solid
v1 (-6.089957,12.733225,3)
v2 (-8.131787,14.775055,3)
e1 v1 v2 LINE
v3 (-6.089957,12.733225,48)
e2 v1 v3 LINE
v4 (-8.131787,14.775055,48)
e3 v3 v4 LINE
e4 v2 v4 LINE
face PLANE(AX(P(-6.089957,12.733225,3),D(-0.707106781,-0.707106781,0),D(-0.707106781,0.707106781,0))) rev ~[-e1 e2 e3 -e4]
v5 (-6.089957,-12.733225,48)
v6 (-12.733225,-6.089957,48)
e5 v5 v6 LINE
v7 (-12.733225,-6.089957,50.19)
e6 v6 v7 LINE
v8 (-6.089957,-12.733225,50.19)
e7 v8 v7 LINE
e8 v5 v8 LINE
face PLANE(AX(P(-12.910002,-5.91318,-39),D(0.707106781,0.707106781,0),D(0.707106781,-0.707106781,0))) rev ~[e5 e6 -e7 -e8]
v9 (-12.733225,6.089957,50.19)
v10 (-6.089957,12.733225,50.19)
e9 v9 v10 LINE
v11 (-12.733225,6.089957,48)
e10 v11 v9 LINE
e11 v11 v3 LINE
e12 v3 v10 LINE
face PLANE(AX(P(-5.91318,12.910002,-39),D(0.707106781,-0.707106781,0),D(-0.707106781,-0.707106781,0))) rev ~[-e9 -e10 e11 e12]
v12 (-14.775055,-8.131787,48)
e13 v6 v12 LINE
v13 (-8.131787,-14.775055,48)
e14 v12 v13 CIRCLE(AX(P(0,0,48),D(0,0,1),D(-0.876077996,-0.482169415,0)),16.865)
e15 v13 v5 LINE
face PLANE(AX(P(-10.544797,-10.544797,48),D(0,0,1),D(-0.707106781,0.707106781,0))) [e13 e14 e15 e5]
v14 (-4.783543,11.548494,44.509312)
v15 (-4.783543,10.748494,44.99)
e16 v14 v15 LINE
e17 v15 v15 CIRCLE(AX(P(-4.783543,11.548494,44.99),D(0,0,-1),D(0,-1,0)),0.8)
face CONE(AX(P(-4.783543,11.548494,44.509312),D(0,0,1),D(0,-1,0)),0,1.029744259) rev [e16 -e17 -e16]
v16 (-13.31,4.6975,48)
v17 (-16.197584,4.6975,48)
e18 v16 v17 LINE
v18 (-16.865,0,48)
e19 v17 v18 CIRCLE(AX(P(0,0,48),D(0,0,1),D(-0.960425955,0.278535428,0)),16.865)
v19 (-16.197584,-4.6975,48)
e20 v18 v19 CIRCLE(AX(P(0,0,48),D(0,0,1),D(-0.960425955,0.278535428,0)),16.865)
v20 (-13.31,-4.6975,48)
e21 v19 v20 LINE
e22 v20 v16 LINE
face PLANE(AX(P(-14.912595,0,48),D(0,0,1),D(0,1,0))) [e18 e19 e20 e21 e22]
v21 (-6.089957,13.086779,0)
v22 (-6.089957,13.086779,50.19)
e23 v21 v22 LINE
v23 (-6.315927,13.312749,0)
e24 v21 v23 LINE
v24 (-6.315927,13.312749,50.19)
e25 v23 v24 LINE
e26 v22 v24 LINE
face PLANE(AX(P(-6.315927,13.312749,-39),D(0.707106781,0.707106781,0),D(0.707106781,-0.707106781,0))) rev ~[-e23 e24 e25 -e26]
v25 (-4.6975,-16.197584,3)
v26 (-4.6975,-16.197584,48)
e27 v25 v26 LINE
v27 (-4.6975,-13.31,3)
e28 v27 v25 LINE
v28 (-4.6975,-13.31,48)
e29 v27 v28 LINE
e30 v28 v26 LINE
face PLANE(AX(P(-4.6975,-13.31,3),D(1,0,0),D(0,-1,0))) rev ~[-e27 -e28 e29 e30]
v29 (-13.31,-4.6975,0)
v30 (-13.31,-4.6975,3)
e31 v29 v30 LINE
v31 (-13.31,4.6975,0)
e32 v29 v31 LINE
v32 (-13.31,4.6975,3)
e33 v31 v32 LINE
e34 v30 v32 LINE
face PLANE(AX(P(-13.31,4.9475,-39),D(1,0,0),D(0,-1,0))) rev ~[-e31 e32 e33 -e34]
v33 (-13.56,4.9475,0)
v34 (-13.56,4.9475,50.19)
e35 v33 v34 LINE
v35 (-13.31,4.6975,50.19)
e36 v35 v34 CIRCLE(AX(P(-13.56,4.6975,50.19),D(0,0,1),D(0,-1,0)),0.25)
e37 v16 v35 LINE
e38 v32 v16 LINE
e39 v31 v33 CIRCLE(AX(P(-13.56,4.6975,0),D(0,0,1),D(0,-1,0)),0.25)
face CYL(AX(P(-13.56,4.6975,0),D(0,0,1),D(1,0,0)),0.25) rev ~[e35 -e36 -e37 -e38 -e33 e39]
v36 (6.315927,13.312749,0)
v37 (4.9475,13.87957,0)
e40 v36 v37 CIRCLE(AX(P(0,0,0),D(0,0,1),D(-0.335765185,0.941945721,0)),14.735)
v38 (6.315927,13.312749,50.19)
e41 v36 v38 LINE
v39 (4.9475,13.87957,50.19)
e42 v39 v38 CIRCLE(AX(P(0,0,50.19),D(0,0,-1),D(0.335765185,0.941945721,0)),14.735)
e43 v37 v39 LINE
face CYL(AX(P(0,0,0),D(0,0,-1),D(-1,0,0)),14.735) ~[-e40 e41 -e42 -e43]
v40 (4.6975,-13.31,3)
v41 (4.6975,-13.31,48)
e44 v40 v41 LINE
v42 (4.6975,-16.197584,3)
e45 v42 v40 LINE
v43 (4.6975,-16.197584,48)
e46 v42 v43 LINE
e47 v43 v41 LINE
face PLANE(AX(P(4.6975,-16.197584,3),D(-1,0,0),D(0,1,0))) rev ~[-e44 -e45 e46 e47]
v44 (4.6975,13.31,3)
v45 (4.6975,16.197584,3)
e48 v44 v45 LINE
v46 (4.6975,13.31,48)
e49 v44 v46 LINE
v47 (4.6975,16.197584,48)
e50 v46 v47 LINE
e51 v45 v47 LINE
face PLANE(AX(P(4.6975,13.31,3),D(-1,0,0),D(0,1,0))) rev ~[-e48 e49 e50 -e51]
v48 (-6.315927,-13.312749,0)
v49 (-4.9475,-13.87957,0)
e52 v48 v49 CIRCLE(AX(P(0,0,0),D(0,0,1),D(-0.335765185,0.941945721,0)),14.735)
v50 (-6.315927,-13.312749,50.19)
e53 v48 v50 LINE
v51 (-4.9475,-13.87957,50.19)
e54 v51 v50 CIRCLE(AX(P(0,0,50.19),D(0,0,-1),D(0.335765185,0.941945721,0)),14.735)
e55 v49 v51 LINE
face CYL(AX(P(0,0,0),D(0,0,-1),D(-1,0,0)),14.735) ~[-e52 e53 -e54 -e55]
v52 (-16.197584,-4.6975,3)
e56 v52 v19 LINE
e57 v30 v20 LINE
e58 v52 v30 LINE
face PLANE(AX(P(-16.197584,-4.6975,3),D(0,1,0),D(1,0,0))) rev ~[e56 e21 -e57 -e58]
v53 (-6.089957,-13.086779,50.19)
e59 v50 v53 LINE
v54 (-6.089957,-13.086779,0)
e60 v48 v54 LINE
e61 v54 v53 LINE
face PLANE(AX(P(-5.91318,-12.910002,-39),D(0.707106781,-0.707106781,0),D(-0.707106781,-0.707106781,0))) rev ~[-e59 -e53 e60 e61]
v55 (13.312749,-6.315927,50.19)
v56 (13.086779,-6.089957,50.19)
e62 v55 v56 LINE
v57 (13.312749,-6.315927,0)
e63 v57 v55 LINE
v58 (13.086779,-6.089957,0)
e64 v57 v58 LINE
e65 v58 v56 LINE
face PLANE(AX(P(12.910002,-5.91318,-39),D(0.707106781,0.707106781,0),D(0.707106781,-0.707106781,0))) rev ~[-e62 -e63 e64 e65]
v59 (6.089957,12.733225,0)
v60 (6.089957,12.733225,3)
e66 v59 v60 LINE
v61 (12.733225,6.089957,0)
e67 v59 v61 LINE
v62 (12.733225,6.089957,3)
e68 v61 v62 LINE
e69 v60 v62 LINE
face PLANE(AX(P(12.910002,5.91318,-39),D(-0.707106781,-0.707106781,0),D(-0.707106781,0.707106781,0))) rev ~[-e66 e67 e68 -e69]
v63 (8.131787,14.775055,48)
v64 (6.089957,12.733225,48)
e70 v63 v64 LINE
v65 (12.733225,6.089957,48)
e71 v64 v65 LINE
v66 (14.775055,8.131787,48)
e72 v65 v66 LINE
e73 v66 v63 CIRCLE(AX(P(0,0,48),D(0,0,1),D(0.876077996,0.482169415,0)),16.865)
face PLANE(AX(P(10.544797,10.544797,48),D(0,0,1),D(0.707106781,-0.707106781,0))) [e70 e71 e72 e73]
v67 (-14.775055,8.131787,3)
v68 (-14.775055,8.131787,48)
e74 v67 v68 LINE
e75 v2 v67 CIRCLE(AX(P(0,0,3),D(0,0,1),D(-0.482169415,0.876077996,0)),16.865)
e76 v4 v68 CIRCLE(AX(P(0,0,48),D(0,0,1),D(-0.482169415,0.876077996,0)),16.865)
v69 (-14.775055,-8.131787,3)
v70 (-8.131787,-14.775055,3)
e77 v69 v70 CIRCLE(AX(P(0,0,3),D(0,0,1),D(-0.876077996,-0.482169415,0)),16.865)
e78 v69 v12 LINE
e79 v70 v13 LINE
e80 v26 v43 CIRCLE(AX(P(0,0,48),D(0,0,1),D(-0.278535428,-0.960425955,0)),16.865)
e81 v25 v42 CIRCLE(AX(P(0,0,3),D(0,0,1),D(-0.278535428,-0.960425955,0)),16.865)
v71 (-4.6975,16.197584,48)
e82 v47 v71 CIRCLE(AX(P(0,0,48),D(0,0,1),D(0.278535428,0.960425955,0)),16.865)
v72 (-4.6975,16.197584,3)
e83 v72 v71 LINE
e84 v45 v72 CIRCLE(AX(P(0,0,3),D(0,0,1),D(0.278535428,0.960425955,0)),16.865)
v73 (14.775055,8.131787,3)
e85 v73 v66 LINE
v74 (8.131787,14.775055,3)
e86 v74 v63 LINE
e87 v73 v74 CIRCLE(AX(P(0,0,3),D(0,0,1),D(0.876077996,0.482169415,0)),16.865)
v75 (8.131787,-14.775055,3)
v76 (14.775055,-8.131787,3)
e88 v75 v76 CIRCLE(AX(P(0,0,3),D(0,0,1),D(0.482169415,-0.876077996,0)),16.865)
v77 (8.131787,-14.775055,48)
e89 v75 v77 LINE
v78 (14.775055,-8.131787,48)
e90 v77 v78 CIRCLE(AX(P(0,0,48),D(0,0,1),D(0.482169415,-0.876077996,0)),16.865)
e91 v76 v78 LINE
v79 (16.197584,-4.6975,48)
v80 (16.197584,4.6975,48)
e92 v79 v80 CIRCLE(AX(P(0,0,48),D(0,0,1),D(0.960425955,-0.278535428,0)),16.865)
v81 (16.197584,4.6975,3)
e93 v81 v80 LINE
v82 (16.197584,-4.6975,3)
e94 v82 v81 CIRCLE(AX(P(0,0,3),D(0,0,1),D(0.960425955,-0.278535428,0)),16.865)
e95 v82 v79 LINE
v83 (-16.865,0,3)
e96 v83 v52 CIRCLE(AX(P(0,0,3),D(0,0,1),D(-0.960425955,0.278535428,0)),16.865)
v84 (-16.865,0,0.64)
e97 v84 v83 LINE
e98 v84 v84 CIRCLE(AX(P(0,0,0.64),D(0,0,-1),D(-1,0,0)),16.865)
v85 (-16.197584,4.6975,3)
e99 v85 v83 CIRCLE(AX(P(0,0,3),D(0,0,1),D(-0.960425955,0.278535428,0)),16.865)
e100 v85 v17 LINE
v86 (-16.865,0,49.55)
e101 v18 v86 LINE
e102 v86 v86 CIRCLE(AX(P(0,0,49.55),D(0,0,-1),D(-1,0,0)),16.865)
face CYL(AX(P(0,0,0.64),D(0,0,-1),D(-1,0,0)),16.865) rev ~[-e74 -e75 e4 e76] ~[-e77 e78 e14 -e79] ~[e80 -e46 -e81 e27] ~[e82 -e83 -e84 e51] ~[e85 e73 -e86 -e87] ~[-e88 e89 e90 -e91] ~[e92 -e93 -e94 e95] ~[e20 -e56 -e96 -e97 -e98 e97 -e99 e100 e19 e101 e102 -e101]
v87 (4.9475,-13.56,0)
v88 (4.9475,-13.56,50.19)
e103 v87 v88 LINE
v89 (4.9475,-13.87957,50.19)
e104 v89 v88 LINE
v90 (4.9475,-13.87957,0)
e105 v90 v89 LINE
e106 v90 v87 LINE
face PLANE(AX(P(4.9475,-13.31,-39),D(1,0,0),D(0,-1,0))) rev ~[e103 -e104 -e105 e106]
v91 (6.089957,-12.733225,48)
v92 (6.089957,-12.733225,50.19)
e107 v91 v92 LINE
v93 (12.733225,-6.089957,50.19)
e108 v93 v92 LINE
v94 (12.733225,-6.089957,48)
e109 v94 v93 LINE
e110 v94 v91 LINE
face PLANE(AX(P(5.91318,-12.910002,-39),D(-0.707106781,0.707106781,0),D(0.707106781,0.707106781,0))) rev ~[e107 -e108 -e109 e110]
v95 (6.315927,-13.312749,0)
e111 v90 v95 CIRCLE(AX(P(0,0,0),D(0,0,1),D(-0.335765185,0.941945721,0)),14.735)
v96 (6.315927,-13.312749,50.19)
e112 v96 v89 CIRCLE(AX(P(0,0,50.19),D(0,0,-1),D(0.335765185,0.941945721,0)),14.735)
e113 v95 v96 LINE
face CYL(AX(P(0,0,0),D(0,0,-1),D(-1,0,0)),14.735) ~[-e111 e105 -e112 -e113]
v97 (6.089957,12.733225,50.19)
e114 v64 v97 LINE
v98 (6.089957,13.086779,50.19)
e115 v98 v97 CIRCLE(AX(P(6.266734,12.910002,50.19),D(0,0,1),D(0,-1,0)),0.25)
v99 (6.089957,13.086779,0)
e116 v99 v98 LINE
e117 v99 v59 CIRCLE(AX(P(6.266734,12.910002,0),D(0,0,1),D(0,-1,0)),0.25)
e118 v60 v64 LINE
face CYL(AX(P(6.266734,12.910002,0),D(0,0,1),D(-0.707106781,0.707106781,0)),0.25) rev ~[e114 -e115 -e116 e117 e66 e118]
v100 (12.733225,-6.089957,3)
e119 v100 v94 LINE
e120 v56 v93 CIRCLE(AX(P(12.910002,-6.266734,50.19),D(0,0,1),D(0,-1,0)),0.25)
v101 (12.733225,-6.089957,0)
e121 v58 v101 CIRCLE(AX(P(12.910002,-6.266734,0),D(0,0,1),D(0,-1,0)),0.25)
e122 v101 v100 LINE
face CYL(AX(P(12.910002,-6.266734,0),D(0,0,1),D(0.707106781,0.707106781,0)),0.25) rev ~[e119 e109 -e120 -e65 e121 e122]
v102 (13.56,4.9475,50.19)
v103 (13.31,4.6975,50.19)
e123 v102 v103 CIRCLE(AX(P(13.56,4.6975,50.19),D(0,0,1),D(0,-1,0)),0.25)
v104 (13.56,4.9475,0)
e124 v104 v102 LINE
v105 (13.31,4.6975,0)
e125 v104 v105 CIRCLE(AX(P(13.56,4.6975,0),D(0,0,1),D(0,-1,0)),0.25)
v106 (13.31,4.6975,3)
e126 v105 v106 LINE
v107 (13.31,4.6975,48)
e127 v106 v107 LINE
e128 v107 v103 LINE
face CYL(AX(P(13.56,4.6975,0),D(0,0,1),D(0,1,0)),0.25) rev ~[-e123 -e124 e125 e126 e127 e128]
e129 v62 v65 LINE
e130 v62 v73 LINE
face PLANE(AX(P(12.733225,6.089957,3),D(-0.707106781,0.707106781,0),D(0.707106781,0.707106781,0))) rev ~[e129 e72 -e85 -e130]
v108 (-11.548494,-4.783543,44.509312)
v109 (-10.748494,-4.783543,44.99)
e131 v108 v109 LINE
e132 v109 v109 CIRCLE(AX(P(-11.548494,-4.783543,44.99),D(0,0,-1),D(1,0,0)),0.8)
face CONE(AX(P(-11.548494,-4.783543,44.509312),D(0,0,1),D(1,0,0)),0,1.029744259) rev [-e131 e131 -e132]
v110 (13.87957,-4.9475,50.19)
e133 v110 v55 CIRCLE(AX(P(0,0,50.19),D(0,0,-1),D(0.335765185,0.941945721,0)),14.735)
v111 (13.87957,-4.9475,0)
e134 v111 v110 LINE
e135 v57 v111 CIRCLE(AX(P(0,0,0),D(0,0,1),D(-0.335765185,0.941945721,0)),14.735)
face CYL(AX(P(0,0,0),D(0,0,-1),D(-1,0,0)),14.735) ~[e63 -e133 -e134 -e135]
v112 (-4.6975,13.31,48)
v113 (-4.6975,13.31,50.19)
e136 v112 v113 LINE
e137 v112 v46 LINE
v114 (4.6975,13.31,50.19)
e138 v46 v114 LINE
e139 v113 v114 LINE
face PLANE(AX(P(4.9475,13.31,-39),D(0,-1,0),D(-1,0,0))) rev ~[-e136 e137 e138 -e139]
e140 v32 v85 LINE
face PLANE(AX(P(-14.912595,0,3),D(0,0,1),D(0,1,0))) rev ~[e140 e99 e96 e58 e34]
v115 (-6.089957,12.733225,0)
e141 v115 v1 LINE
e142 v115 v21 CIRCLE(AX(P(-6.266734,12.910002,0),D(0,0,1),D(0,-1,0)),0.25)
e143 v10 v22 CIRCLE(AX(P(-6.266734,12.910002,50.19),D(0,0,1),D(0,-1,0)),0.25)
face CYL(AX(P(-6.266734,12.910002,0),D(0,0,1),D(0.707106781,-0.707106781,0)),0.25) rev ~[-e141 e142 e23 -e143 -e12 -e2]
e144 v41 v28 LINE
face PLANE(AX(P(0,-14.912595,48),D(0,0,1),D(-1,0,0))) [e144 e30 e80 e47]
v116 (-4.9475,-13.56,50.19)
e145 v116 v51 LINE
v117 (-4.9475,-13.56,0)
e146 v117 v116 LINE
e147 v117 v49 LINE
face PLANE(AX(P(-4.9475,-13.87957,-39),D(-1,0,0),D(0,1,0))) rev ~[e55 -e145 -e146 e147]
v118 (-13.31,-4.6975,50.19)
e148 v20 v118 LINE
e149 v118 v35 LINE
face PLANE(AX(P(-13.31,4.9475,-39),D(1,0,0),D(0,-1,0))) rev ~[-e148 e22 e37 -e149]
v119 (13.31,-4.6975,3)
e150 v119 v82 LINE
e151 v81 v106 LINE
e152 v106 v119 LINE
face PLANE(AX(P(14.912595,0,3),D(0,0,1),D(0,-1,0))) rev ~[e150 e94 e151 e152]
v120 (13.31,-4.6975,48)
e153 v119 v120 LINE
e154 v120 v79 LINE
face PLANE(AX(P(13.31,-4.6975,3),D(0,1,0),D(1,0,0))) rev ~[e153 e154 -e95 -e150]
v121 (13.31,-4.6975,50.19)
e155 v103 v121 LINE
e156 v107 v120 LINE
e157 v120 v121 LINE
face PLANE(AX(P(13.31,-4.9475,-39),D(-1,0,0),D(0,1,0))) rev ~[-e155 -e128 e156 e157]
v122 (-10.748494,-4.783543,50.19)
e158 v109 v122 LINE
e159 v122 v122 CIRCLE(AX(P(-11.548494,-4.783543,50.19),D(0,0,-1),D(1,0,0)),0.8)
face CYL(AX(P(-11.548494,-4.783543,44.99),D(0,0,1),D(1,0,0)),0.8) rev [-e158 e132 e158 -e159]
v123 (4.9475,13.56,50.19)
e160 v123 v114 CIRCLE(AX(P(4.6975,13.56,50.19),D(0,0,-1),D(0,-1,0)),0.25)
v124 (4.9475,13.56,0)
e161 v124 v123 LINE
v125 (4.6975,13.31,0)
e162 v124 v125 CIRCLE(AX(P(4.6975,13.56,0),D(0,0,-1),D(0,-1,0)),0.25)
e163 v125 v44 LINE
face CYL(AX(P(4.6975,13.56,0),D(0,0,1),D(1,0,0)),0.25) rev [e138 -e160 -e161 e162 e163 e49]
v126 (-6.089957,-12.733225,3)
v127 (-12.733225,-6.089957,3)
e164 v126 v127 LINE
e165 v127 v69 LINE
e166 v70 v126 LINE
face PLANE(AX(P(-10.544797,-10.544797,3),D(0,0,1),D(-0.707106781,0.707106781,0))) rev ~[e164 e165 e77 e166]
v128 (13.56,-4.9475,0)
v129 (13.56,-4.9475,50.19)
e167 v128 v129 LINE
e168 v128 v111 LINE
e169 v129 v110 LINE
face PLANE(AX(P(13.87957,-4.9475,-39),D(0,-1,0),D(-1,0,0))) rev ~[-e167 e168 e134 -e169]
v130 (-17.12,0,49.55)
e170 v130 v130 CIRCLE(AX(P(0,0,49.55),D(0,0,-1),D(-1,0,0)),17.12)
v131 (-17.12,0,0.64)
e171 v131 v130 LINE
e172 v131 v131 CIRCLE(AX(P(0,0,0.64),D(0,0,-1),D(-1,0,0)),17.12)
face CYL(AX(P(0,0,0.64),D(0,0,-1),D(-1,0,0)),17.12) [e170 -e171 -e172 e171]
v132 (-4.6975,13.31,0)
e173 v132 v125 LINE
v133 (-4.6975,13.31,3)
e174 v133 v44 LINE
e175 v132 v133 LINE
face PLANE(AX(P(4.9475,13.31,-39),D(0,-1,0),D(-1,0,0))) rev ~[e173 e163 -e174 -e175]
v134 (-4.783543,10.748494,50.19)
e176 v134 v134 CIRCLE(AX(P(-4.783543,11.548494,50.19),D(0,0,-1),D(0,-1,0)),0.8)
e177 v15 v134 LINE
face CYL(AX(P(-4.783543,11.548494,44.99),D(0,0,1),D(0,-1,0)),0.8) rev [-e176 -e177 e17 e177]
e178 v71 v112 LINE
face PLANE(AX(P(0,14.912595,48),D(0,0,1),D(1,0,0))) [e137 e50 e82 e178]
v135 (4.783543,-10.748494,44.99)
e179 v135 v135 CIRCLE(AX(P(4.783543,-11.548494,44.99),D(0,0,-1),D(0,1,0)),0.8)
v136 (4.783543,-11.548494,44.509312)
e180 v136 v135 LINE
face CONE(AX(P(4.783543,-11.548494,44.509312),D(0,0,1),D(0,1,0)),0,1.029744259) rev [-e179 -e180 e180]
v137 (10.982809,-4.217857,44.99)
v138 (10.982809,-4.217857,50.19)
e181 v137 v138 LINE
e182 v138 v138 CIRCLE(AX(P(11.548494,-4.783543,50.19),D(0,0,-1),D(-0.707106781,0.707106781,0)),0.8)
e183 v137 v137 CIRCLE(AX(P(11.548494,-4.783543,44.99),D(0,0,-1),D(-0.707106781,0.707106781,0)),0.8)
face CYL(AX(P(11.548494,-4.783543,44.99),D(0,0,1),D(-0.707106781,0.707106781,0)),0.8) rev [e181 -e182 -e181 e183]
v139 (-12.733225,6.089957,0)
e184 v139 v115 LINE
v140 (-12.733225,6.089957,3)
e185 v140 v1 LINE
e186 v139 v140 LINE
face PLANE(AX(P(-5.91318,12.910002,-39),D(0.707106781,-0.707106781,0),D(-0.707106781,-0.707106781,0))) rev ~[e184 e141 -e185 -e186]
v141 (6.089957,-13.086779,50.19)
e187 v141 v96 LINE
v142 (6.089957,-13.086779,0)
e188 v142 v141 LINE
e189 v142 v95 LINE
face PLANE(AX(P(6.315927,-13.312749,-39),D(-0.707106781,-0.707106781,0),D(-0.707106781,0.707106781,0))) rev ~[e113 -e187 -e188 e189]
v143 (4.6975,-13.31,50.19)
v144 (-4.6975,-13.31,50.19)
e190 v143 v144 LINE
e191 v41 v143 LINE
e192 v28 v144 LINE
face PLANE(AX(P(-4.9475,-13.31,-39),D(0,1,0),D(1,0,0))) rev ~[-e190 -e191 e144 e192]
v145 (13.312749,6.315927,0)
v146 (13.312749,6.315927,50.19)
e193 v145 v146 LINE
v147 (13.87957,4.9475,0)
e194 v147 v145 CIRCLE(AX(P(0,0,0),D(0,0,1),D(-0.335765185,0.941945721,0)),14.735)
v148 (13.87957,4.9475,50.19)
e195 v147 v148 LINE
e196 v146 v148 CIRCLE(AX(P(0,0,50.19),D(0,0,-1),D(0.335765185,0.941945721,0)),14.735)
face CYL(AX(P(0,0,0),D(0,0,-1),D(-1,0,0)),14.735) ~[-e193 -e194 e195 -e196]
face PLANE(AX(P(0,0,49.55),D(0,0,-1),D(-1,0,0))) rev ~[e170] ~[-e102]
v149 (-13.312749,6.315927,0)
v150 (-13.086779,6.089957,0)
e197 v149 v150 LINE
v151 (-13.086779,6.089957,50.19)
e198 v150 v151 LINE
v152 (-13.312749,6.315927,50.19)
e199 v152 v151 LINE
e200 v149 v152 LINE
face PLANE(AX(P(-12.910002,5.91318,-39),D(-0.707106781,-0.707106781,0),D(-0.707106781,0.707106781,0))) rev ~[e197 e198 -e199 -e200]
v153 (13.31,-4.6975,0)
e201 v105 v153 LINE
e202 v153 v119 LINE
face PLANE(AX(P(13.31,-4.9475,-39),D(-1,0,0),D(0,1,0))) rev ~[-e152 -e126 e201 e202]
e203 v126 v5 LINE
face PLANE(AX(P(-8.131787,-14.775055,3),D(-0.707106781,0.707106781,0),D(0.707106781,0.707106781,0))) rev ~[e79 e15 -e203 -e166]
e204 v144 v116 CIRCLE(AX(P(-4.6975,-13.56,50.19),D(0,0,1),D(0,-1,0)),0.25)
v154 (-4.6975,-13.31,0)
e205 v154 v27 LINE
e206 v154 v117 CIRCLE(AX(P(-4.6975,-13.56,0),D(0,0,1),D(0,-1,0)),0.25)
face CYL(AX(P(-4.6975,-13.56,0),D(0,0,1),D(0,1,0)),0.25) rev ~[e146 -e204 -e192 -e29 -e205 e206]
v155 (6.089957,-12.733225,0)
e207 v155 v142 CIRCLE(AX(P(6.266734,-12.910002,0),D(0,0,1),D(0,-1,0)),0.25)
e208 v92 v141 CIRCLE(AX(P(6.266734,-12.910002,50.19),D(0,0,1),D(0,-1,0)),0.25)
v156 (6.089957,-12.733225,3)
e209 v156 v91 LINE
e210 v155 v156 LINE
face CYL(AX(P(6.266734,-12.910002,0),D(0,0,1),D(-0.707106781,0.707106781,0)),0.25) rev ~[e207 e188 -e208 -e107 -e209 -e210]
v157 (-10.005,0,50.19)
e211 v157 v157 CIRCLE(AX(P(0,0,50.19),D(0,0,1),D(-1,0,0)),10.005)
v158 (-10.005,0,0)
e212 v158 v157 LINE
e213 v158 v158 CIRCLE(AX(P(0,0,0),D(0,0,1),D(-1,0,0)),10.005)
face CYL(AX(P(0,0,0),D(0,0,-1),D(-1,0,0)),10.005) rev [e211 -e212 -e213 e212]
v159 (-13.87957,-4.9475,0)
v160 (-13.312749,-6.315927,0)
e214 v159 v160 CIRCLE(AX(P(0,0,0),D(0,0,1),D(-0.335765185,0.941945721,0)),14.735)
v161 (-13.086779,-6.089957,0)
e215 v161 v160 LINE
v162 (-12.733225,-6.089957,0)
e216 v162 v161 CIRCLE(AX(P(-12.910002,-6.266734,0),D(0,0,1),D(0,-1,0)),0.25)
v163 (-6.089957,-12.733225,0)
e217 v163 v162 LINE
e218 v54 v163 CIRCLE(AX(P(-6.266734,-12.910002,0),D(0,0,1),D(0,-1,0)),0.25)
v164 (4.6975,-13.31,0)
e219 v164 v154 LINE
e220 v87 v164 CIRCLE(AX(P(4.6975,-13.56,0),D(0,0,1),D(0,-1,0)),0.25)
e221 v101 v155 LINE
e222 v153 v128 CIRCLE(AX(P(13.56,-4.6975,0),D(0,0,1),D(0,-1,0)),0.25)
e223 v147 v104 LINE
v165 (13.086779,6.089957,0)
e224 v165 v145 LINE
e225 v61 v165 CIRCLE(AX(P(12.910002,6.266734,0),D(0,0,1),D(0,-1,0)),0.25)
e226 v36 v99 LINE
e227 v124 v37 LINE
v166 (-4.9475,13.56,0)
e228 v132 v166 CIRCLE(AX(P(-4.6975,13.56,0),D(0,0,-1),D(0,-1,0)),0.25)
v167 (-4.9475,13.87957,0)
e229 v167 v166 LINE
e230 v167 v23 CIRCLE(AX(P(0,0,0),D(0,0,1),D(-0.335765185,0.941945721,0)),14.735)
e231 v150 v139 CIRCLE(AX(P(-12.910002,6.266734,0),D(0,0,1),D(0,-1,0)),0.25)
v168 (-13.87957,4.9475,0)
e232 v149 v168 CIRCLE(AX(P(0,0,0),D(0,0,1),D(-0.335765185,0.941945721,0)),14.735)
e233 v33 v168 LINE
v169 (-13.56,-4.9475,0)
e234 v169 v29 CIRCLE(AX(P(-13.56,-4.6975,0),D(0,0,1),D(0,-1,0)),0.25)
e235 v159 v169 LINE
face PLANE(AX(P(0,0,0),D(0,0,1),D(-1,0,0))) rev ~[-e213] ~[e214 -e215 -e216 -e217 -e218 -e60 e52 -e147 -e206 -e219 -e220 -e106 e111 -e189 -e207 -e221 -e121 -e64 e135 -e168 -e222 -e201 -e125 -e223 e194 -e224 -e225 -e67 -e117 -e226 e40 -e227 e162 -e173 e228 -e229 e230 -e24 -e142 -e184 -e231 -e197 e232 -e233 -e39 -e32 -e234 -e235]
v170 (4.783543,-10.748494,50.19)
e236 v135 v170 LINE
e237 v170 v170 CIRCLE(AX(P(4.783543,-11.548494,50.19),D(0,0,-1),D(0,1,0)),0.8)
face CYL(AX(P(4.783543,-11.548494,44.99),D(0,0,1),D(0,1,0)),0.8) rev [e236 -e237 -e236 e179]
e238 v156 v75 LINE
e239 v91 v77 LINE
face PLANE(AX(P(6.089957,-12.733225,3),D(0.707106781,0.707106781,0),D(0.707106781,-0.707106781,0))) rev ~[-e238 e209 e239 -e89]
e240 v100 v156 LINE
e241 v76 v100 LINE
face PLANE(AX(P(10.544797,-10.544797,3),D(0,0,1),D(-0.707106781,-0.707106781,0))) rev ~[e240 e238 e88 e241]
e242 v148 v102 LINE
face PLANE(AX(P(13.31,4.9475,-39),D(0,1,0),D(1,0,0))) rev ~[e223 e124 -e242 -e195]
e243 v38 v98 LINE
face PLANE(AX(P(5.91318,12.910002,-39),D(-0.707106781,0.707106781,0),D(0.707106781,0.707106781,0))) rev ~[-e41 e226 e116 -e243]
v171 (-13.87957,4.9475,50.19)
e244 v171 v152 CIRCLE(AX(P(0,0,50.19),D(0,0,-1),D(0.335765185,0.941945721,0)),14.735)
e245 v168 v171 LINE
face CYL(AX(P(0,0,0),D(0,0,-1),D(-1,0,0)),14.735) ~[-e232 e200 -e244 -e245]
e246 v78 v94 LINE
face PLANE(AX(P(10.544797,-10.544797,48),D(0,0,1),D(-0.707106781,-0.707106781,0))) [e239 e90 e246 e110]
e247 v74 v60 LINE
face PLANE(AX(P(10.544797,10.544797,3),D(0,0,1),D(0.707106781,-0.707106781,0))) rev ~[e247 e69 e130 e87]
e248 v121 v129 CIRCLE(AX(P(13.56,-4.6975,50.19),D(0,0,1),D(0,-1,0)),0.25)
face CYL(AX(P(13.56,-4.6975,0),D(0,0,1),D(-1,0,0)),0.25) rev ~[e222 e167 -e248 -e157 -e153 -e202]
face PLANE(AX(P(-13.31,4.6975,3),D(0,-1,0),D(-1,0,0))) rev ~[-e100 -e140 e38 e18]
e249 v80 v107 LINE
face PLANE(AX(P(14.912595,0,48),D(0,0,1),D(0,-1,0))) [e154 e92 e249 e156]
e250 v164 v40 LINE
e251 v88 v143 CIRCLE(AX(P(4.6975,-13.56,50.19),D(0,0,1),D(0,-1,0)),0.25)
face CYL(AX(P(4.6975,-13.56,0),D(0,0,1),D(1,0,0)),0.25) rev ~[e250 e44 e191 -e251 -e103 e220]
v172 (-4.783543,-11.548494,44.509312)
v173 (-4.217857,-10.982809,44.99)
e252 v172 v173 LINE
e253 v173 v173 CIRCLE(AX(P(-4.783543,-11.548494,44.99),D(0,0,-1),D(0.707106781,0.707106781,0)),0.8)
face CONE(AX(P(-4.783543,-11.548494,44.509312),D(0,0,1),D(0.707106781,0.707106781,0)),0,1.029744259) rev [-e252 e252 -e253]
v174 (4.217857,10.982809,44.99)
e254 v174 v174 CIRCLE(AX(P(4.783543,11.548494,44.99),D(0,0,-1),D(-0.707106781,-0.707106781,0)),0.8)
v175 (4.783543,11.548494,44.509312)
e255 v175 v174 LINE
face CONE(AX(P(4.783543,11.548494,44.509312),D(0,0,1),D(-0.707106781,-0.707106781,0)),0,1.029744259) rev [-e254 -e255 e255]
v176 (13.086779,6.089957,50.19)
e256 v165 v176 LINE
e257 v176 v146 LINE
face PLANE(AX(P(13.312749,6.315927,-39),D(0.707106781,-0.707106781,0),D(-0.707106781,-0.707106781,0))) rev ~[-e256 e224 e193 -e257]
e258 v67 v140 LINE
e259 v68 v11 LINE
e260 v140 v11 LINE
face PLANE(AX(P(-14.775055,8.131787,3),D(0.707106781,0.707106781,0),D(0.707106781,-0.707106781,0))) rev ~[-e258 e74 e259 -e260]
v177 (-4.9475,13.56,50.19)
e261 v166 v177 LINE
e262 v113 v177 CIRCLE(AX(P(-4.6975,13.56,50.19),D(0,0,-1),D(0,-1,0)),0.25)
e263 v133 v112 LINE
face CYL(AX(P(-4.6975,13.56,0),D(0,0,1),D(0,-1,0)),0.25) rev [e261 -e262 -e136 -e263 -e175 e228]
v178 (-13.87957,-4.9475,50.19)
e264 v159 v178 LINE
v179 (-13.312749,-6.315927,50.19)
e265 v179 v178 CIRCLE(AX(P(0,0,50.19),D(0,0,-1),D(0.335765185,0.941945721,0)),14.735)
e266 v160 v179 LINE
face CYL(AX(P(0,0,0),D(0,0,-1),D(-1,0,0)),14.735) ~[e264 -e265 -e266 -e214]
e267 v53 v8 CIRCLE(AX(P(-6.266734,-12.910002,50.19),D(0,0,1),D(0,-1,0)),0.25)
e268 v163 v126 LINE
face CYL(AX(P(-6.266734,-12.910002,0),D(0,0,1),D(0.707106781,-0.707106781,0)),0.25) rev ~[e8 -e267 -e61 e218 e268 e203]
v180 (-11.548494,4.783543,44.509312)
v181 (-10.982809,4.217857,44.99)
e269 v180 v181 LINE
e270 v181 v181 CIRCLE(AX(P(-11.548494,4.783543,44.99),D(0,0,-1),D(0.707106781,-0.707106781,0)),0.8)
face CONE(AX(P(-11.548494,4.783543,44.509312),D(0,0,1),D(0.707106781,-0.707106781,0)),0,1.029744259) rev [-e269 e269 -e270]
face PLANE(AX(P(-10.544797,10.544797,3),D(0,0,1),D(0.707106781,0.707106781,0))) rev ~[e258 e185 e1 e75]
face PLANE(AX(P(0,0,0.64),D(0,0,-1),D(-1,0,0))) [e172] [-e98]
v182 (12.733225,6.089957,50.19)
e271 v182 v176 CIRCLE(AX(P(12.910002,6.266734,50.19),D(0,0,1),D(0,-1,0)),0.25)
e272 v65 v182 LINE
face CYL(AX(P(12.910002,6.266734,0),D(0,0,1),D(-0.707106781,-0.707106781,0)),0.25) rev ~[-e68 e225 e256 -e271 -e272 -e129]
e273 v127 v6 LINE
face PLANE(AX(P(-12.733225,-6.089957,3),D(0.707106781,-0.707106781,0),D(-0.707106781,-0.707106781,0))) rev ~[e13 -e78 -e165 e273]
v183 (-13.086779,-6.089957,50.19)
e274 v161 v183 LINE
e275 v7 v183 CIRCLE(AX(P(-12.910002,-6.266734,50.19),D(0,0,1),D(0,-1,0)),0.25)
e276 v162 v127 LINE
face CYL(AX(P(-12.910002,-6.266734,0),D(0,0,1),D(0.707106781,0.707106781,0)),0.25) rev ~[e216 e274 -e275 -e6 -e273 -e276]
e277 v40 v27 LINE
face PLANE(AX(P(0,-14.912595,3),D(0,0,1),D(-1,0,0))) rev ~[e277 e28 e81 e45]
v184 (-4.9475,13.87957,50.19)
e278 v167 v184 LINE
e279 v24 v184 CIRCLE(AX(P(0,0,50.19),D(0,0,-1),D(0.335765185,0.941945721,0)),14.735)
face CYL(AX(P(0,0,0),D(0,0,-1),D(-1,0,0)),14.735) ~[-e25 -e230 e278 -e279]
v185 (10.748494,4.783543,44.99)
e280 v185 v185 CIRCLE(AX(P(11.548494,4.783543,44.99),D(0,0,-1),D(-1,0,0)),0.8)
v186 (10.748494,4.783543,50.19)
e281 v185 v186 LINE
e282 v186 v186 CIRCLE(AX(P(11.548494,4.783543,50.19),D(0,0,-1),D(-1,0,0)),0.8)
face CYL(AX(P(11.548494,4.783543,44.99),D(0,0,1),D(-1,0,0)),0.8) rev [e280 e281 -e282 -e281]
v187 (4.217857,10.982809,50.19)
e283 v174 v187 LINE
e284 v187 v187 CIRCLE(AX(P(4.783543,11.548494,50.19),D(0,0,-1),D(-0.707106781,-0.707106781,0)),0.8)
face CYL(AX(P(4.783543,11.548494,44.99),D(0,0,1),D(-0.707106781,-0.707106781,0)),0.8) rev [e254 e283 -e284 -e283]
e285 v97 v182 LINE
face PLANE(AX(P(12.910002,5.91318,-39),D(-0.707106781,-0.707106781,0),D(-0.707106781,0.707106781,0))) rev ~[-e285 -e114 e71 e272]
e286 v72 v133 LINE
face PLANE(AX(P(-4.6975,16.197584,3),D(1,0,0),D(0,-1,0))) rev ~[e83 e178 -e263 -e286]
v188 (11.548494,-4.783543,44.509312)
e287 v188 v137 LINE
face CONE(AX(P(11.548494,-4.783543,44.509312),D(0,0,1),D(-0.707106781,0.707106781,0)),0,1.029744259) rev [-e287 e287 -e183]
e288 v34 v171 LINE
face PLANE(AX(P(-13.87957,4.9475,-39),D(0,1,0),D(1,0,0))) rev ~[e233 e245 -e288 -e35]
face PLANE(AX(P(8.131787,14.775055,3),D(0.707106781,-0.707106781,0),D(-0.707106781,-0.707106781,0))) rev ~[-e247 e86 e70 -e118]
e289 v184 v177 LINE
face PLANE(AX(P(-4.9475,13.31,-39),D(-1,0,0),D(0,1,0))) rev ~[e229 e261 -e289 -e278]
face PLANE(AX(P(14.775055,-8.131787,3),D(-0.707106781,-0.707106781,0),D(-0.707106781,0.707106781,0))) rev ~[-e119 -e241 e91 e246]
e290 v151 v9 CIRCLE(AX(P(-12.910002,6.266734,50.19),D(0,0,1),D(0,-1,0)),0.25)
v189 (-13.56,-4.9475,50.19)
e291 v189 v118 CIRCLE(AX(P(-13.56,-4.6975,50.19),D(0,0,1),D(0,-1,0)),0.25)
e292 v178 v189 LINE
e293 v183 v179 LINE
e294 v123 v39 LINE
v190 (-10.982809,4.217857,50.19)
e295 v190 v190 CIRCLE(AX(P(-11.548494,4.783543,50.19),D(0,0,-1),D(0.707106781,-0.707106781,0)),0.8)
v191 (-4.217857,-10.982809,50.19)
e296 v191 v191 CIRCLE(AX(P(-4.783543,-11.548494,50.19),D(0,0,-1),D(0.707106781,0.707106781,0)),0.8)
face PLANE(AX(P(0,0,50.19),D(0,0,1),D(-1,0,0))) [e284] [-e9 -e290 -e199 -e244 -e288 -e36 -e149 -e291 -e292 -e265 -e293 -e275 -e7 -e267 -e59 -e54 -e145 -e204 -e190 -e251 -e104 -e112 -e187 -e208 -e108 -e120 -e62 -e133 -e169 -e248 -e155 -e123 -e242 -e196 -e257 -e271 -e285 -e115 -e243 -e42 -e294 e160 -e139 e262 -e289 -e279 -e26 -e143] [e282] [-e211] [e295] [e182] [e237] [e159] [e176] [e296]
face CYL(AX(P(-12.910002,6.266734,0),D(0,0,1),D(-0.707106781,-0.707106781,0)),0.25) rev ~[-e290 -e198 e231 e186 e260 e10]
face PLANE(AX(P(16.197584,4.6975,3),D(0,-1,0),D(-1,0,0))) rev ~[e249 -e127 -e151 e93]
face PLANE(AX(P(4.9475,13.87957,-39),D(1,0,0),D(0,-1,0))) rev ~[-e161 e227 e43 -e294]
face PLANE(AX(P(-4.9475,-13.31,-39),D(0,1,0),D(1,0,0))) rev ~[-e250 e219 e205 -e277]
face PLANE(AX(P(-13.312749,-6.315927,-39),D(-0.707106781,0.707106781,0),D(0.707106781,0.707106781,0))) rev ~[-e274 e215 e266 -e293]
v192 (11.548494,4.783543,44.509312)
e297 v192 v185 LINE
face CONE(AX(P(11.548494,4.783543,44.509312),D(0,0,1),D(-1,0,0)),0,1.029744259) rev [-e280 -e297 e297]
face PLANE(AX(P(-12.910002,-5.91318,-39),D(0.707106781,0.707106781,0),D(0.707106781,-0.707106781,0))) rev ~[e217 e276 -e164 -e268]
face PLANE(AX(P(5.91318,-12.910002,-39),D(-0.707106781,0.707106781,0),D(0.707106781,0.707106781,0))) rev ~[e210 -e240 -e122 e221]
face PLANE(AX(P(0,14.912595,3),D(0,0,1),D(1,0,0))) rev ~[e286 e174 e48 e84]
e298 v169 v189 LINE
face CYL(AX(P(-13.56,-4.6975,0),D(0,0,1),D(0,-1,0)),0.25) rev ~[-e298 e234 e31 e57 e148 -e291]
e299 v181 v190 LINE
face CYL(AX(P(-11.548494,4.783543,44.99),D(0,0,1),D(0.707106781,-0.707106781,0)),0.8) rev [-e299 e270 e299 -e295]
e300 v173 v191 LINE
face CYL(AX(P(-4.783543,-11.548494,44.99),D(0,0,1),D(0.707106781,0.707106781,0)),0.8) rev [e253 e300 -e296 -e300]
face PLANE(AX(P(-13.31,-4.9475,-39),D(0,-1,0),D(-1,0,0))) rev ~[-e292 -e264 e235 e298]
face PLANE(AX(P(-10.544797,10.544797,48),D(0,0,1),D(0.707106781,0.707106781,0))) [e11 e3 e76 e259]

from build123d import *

# Parameters (mm, degrees)
SKETCH_1_R                       = 14.735
SKETCH_1_R_2                     = 10.005
EXTRUDE_1_DEPTH                  = 50.19
CUT_EXTRUDE_START                = 42
CUT_EXTRUDE_1_DEPTH              = 94.586205036
FILLET_1_R                       = 0.25
PATTERN_CIRCULAR_2_COUNT         = 8
FILLET_1_OF_PATTERN_CIRCULAR_2_R = 0.25
EXTRUDE_2_DEPTH                  = 45
PATTERN_CIRCULAR_4_COUNT         = 8
SKETCH_5_R                       = 17.12
SKETCH_5_R_2                     = 16.865
EXTRUDE_3_DEPTH                  = 48.91
PATTERN_CIRCULAR_6_COUNT         = 8


with BuildPart() as part:
    # 草图1 → 凸台-拉伸1 (new body)
    with BuildSketch(Plane.XY):
        with Locations(Location((0, 0, 0), (0, 0, 180))):
            Circle(SKETCH_1_R)
        with Locations(Location((0, 0, 0), (0, 0, 180))):
            Circle(SKETCH_1_R_2, mode=Mode.SUBTRACT)
    extrude(amount=EXTRUDE_1_DEPTH)

    # 草图3 → 切除-拉伸1 (cut)
    with BuildSketch(Plane(origin=(0, 0, 3), x_dir=(-1, 0, 0), z_dir=(0, 0, -1)).offset(CUT_EXTRUDE_START)):
        with BuildLine():
            Line((-4.9475, 13.879570193), (-4.9475, 13.31))
            Line((-4.9475, 13.31), (4.9475, 13.31))
            Line((4.9475, 13.31), (4.9475, 13.879570193))
            ThreePointArc((4.9475, 13.879570193), (0, 14.735), (-4.9475, 13.879570193))
        make_face()
    cut_extrude_1 = extrude(amount=-CUT_EXTRUDE_1_DEPTH, mode=Mode.SUBTRACT)

    # 圆角1
    fillet_1_edges = [part.edges().sort_by_distance(p)[0] for p in [
        (4.9475, 13.31, 25.095),
        (-4.9475, 13.31, 25.095),
    ]]
    fillet(fillet_1_edges, radius=FILLET_1_R)

    # 阵列(圆周)2: 切除-拉伸1 ×8 about axis
    pattern_circular_2_axis = Axis((0, 0, 0), (0, 0, 1))
    for i in range(1, PATTERN_CIRCULAR_2_COUNT):
        add(cut_extrude_1.rotate(pattern_circular_2_axis, i * 360 / PATTERN_CIRCULAR_2_COUNT), mode=Mode.SUBTRACT)

    # 圆角1 of 阵列(圆周)2
    fillet_1_of_pattern_circular_2_edges = [part.edges().sort_by_distance(p)[0] for p in [
        (-5.913180458, 12.910002058, 25.095),
        (-12.910002058, 5.913180458, 25.095),
        (-13.31, 4.9475, 25.095),
        (-13.31, -4.9475, 25.095),
        (-12.910002058, -5.913180458, 25.095),
        (-5.913180458, -12.910002058, 25.095),
        (-4.9475, -13.31, 25.095),
        (4.9475, -13.31, 25.095),
        (5.913180458, -12.910002058, 25.095),
        (12.910002058, -5.913180458, 25.095),
        (13.31, -4.9475, 25.095),
        (13.31, 4.9475, 25.095),
        (12.910002058, 5.913180458, 25.095),
        (5.913180458, 12.910002058, 25.095),
    ]]
    fillet(fillet_1_of_pattern_circular_2_edges, radius=FILLET_1_OF_PATTERN_CIRCULAR_2_R)

    # 草图4 → 凸台-拉伸2 (add)
    with BuildSketch(Plane(origin=(0, 0, 3), x_dir=(-1, 0, 0), z_dir=(0, 0, -1))):
        with BuildLine():
            Line((-4.6975, 13.31), (-4.6975, 16.197583732))
            ThreePointArc((-4.6975, 16.197583732), (0, 16.865), (4.6975, 16.197583732))
            Line((4.6975, 16.197583732), (4.6975, 13.31))
            Line((4.6975, 13.31), (-4.6975, 13.31))
        make_face()
    extrude_2 = extrude(amount=-EXTRUDE_2_DEPTH)

    # 阵列(圆周)4: 凸台-拉伸2 ×8 about axis
    pattern_circular_4_axis = Axis((0, 0, 0), (0, 0, 1))
    for i in range(1, PATTERN_CIRCULAR_4_COUNT):
        add(extrude_2.rotate(pattern_circular_4_axis, i * 360 / PATTERN_CIRCULAR_4_COUNT))

    # 草图5 → 凸台-拉伸3 (add)
    with BuildSketch(Plane(origin=(0, 0, 0.64), x_dir=(-1, 0, 0), z_dir=(0, 0, -1))):
        Circle(SKETCH_5_R)
        Circle(SKETCH_5_R_2, mode=Mode.SUBTRACT)
    extrude(amount=-EXTRUDE_3_DEPTH)

    # 草图9 → M2 螺纹孔2 (revolve, cut)
    with BuildSketch(Plane(origin=(-4.783542905, 11.548494156, 50.19), x_dir=(0, -1, 0), z_dir=(1, 0, 0))):
        Polygon((0, 0), (0, 5.680688495), (0.8, 5.2), (0.8, 0), align=None)
    hole_wizard_m2_2 = revolve(axis=Axis((-4.783542905, 11.548494156, 56.54), (0, 0, -1)), mode=Mode.SUBTRACT)

    # 阵列(圆周)6: M2 螺纹孔2 ×8 about axis
    pattern_circular_6_axis = Axis((0, 0, 0), (0, 0, 1))
    for i in range(1, PATTERN_CIRCULAR_6_COUNT):
        add(hole_wizard_m2_2.rotate(pattern_circular_6_axis, i * 360 / PATTERN_CIRCULAR_6_COUNT), mode=Mode.SUBTRACT)


solid = part.part
